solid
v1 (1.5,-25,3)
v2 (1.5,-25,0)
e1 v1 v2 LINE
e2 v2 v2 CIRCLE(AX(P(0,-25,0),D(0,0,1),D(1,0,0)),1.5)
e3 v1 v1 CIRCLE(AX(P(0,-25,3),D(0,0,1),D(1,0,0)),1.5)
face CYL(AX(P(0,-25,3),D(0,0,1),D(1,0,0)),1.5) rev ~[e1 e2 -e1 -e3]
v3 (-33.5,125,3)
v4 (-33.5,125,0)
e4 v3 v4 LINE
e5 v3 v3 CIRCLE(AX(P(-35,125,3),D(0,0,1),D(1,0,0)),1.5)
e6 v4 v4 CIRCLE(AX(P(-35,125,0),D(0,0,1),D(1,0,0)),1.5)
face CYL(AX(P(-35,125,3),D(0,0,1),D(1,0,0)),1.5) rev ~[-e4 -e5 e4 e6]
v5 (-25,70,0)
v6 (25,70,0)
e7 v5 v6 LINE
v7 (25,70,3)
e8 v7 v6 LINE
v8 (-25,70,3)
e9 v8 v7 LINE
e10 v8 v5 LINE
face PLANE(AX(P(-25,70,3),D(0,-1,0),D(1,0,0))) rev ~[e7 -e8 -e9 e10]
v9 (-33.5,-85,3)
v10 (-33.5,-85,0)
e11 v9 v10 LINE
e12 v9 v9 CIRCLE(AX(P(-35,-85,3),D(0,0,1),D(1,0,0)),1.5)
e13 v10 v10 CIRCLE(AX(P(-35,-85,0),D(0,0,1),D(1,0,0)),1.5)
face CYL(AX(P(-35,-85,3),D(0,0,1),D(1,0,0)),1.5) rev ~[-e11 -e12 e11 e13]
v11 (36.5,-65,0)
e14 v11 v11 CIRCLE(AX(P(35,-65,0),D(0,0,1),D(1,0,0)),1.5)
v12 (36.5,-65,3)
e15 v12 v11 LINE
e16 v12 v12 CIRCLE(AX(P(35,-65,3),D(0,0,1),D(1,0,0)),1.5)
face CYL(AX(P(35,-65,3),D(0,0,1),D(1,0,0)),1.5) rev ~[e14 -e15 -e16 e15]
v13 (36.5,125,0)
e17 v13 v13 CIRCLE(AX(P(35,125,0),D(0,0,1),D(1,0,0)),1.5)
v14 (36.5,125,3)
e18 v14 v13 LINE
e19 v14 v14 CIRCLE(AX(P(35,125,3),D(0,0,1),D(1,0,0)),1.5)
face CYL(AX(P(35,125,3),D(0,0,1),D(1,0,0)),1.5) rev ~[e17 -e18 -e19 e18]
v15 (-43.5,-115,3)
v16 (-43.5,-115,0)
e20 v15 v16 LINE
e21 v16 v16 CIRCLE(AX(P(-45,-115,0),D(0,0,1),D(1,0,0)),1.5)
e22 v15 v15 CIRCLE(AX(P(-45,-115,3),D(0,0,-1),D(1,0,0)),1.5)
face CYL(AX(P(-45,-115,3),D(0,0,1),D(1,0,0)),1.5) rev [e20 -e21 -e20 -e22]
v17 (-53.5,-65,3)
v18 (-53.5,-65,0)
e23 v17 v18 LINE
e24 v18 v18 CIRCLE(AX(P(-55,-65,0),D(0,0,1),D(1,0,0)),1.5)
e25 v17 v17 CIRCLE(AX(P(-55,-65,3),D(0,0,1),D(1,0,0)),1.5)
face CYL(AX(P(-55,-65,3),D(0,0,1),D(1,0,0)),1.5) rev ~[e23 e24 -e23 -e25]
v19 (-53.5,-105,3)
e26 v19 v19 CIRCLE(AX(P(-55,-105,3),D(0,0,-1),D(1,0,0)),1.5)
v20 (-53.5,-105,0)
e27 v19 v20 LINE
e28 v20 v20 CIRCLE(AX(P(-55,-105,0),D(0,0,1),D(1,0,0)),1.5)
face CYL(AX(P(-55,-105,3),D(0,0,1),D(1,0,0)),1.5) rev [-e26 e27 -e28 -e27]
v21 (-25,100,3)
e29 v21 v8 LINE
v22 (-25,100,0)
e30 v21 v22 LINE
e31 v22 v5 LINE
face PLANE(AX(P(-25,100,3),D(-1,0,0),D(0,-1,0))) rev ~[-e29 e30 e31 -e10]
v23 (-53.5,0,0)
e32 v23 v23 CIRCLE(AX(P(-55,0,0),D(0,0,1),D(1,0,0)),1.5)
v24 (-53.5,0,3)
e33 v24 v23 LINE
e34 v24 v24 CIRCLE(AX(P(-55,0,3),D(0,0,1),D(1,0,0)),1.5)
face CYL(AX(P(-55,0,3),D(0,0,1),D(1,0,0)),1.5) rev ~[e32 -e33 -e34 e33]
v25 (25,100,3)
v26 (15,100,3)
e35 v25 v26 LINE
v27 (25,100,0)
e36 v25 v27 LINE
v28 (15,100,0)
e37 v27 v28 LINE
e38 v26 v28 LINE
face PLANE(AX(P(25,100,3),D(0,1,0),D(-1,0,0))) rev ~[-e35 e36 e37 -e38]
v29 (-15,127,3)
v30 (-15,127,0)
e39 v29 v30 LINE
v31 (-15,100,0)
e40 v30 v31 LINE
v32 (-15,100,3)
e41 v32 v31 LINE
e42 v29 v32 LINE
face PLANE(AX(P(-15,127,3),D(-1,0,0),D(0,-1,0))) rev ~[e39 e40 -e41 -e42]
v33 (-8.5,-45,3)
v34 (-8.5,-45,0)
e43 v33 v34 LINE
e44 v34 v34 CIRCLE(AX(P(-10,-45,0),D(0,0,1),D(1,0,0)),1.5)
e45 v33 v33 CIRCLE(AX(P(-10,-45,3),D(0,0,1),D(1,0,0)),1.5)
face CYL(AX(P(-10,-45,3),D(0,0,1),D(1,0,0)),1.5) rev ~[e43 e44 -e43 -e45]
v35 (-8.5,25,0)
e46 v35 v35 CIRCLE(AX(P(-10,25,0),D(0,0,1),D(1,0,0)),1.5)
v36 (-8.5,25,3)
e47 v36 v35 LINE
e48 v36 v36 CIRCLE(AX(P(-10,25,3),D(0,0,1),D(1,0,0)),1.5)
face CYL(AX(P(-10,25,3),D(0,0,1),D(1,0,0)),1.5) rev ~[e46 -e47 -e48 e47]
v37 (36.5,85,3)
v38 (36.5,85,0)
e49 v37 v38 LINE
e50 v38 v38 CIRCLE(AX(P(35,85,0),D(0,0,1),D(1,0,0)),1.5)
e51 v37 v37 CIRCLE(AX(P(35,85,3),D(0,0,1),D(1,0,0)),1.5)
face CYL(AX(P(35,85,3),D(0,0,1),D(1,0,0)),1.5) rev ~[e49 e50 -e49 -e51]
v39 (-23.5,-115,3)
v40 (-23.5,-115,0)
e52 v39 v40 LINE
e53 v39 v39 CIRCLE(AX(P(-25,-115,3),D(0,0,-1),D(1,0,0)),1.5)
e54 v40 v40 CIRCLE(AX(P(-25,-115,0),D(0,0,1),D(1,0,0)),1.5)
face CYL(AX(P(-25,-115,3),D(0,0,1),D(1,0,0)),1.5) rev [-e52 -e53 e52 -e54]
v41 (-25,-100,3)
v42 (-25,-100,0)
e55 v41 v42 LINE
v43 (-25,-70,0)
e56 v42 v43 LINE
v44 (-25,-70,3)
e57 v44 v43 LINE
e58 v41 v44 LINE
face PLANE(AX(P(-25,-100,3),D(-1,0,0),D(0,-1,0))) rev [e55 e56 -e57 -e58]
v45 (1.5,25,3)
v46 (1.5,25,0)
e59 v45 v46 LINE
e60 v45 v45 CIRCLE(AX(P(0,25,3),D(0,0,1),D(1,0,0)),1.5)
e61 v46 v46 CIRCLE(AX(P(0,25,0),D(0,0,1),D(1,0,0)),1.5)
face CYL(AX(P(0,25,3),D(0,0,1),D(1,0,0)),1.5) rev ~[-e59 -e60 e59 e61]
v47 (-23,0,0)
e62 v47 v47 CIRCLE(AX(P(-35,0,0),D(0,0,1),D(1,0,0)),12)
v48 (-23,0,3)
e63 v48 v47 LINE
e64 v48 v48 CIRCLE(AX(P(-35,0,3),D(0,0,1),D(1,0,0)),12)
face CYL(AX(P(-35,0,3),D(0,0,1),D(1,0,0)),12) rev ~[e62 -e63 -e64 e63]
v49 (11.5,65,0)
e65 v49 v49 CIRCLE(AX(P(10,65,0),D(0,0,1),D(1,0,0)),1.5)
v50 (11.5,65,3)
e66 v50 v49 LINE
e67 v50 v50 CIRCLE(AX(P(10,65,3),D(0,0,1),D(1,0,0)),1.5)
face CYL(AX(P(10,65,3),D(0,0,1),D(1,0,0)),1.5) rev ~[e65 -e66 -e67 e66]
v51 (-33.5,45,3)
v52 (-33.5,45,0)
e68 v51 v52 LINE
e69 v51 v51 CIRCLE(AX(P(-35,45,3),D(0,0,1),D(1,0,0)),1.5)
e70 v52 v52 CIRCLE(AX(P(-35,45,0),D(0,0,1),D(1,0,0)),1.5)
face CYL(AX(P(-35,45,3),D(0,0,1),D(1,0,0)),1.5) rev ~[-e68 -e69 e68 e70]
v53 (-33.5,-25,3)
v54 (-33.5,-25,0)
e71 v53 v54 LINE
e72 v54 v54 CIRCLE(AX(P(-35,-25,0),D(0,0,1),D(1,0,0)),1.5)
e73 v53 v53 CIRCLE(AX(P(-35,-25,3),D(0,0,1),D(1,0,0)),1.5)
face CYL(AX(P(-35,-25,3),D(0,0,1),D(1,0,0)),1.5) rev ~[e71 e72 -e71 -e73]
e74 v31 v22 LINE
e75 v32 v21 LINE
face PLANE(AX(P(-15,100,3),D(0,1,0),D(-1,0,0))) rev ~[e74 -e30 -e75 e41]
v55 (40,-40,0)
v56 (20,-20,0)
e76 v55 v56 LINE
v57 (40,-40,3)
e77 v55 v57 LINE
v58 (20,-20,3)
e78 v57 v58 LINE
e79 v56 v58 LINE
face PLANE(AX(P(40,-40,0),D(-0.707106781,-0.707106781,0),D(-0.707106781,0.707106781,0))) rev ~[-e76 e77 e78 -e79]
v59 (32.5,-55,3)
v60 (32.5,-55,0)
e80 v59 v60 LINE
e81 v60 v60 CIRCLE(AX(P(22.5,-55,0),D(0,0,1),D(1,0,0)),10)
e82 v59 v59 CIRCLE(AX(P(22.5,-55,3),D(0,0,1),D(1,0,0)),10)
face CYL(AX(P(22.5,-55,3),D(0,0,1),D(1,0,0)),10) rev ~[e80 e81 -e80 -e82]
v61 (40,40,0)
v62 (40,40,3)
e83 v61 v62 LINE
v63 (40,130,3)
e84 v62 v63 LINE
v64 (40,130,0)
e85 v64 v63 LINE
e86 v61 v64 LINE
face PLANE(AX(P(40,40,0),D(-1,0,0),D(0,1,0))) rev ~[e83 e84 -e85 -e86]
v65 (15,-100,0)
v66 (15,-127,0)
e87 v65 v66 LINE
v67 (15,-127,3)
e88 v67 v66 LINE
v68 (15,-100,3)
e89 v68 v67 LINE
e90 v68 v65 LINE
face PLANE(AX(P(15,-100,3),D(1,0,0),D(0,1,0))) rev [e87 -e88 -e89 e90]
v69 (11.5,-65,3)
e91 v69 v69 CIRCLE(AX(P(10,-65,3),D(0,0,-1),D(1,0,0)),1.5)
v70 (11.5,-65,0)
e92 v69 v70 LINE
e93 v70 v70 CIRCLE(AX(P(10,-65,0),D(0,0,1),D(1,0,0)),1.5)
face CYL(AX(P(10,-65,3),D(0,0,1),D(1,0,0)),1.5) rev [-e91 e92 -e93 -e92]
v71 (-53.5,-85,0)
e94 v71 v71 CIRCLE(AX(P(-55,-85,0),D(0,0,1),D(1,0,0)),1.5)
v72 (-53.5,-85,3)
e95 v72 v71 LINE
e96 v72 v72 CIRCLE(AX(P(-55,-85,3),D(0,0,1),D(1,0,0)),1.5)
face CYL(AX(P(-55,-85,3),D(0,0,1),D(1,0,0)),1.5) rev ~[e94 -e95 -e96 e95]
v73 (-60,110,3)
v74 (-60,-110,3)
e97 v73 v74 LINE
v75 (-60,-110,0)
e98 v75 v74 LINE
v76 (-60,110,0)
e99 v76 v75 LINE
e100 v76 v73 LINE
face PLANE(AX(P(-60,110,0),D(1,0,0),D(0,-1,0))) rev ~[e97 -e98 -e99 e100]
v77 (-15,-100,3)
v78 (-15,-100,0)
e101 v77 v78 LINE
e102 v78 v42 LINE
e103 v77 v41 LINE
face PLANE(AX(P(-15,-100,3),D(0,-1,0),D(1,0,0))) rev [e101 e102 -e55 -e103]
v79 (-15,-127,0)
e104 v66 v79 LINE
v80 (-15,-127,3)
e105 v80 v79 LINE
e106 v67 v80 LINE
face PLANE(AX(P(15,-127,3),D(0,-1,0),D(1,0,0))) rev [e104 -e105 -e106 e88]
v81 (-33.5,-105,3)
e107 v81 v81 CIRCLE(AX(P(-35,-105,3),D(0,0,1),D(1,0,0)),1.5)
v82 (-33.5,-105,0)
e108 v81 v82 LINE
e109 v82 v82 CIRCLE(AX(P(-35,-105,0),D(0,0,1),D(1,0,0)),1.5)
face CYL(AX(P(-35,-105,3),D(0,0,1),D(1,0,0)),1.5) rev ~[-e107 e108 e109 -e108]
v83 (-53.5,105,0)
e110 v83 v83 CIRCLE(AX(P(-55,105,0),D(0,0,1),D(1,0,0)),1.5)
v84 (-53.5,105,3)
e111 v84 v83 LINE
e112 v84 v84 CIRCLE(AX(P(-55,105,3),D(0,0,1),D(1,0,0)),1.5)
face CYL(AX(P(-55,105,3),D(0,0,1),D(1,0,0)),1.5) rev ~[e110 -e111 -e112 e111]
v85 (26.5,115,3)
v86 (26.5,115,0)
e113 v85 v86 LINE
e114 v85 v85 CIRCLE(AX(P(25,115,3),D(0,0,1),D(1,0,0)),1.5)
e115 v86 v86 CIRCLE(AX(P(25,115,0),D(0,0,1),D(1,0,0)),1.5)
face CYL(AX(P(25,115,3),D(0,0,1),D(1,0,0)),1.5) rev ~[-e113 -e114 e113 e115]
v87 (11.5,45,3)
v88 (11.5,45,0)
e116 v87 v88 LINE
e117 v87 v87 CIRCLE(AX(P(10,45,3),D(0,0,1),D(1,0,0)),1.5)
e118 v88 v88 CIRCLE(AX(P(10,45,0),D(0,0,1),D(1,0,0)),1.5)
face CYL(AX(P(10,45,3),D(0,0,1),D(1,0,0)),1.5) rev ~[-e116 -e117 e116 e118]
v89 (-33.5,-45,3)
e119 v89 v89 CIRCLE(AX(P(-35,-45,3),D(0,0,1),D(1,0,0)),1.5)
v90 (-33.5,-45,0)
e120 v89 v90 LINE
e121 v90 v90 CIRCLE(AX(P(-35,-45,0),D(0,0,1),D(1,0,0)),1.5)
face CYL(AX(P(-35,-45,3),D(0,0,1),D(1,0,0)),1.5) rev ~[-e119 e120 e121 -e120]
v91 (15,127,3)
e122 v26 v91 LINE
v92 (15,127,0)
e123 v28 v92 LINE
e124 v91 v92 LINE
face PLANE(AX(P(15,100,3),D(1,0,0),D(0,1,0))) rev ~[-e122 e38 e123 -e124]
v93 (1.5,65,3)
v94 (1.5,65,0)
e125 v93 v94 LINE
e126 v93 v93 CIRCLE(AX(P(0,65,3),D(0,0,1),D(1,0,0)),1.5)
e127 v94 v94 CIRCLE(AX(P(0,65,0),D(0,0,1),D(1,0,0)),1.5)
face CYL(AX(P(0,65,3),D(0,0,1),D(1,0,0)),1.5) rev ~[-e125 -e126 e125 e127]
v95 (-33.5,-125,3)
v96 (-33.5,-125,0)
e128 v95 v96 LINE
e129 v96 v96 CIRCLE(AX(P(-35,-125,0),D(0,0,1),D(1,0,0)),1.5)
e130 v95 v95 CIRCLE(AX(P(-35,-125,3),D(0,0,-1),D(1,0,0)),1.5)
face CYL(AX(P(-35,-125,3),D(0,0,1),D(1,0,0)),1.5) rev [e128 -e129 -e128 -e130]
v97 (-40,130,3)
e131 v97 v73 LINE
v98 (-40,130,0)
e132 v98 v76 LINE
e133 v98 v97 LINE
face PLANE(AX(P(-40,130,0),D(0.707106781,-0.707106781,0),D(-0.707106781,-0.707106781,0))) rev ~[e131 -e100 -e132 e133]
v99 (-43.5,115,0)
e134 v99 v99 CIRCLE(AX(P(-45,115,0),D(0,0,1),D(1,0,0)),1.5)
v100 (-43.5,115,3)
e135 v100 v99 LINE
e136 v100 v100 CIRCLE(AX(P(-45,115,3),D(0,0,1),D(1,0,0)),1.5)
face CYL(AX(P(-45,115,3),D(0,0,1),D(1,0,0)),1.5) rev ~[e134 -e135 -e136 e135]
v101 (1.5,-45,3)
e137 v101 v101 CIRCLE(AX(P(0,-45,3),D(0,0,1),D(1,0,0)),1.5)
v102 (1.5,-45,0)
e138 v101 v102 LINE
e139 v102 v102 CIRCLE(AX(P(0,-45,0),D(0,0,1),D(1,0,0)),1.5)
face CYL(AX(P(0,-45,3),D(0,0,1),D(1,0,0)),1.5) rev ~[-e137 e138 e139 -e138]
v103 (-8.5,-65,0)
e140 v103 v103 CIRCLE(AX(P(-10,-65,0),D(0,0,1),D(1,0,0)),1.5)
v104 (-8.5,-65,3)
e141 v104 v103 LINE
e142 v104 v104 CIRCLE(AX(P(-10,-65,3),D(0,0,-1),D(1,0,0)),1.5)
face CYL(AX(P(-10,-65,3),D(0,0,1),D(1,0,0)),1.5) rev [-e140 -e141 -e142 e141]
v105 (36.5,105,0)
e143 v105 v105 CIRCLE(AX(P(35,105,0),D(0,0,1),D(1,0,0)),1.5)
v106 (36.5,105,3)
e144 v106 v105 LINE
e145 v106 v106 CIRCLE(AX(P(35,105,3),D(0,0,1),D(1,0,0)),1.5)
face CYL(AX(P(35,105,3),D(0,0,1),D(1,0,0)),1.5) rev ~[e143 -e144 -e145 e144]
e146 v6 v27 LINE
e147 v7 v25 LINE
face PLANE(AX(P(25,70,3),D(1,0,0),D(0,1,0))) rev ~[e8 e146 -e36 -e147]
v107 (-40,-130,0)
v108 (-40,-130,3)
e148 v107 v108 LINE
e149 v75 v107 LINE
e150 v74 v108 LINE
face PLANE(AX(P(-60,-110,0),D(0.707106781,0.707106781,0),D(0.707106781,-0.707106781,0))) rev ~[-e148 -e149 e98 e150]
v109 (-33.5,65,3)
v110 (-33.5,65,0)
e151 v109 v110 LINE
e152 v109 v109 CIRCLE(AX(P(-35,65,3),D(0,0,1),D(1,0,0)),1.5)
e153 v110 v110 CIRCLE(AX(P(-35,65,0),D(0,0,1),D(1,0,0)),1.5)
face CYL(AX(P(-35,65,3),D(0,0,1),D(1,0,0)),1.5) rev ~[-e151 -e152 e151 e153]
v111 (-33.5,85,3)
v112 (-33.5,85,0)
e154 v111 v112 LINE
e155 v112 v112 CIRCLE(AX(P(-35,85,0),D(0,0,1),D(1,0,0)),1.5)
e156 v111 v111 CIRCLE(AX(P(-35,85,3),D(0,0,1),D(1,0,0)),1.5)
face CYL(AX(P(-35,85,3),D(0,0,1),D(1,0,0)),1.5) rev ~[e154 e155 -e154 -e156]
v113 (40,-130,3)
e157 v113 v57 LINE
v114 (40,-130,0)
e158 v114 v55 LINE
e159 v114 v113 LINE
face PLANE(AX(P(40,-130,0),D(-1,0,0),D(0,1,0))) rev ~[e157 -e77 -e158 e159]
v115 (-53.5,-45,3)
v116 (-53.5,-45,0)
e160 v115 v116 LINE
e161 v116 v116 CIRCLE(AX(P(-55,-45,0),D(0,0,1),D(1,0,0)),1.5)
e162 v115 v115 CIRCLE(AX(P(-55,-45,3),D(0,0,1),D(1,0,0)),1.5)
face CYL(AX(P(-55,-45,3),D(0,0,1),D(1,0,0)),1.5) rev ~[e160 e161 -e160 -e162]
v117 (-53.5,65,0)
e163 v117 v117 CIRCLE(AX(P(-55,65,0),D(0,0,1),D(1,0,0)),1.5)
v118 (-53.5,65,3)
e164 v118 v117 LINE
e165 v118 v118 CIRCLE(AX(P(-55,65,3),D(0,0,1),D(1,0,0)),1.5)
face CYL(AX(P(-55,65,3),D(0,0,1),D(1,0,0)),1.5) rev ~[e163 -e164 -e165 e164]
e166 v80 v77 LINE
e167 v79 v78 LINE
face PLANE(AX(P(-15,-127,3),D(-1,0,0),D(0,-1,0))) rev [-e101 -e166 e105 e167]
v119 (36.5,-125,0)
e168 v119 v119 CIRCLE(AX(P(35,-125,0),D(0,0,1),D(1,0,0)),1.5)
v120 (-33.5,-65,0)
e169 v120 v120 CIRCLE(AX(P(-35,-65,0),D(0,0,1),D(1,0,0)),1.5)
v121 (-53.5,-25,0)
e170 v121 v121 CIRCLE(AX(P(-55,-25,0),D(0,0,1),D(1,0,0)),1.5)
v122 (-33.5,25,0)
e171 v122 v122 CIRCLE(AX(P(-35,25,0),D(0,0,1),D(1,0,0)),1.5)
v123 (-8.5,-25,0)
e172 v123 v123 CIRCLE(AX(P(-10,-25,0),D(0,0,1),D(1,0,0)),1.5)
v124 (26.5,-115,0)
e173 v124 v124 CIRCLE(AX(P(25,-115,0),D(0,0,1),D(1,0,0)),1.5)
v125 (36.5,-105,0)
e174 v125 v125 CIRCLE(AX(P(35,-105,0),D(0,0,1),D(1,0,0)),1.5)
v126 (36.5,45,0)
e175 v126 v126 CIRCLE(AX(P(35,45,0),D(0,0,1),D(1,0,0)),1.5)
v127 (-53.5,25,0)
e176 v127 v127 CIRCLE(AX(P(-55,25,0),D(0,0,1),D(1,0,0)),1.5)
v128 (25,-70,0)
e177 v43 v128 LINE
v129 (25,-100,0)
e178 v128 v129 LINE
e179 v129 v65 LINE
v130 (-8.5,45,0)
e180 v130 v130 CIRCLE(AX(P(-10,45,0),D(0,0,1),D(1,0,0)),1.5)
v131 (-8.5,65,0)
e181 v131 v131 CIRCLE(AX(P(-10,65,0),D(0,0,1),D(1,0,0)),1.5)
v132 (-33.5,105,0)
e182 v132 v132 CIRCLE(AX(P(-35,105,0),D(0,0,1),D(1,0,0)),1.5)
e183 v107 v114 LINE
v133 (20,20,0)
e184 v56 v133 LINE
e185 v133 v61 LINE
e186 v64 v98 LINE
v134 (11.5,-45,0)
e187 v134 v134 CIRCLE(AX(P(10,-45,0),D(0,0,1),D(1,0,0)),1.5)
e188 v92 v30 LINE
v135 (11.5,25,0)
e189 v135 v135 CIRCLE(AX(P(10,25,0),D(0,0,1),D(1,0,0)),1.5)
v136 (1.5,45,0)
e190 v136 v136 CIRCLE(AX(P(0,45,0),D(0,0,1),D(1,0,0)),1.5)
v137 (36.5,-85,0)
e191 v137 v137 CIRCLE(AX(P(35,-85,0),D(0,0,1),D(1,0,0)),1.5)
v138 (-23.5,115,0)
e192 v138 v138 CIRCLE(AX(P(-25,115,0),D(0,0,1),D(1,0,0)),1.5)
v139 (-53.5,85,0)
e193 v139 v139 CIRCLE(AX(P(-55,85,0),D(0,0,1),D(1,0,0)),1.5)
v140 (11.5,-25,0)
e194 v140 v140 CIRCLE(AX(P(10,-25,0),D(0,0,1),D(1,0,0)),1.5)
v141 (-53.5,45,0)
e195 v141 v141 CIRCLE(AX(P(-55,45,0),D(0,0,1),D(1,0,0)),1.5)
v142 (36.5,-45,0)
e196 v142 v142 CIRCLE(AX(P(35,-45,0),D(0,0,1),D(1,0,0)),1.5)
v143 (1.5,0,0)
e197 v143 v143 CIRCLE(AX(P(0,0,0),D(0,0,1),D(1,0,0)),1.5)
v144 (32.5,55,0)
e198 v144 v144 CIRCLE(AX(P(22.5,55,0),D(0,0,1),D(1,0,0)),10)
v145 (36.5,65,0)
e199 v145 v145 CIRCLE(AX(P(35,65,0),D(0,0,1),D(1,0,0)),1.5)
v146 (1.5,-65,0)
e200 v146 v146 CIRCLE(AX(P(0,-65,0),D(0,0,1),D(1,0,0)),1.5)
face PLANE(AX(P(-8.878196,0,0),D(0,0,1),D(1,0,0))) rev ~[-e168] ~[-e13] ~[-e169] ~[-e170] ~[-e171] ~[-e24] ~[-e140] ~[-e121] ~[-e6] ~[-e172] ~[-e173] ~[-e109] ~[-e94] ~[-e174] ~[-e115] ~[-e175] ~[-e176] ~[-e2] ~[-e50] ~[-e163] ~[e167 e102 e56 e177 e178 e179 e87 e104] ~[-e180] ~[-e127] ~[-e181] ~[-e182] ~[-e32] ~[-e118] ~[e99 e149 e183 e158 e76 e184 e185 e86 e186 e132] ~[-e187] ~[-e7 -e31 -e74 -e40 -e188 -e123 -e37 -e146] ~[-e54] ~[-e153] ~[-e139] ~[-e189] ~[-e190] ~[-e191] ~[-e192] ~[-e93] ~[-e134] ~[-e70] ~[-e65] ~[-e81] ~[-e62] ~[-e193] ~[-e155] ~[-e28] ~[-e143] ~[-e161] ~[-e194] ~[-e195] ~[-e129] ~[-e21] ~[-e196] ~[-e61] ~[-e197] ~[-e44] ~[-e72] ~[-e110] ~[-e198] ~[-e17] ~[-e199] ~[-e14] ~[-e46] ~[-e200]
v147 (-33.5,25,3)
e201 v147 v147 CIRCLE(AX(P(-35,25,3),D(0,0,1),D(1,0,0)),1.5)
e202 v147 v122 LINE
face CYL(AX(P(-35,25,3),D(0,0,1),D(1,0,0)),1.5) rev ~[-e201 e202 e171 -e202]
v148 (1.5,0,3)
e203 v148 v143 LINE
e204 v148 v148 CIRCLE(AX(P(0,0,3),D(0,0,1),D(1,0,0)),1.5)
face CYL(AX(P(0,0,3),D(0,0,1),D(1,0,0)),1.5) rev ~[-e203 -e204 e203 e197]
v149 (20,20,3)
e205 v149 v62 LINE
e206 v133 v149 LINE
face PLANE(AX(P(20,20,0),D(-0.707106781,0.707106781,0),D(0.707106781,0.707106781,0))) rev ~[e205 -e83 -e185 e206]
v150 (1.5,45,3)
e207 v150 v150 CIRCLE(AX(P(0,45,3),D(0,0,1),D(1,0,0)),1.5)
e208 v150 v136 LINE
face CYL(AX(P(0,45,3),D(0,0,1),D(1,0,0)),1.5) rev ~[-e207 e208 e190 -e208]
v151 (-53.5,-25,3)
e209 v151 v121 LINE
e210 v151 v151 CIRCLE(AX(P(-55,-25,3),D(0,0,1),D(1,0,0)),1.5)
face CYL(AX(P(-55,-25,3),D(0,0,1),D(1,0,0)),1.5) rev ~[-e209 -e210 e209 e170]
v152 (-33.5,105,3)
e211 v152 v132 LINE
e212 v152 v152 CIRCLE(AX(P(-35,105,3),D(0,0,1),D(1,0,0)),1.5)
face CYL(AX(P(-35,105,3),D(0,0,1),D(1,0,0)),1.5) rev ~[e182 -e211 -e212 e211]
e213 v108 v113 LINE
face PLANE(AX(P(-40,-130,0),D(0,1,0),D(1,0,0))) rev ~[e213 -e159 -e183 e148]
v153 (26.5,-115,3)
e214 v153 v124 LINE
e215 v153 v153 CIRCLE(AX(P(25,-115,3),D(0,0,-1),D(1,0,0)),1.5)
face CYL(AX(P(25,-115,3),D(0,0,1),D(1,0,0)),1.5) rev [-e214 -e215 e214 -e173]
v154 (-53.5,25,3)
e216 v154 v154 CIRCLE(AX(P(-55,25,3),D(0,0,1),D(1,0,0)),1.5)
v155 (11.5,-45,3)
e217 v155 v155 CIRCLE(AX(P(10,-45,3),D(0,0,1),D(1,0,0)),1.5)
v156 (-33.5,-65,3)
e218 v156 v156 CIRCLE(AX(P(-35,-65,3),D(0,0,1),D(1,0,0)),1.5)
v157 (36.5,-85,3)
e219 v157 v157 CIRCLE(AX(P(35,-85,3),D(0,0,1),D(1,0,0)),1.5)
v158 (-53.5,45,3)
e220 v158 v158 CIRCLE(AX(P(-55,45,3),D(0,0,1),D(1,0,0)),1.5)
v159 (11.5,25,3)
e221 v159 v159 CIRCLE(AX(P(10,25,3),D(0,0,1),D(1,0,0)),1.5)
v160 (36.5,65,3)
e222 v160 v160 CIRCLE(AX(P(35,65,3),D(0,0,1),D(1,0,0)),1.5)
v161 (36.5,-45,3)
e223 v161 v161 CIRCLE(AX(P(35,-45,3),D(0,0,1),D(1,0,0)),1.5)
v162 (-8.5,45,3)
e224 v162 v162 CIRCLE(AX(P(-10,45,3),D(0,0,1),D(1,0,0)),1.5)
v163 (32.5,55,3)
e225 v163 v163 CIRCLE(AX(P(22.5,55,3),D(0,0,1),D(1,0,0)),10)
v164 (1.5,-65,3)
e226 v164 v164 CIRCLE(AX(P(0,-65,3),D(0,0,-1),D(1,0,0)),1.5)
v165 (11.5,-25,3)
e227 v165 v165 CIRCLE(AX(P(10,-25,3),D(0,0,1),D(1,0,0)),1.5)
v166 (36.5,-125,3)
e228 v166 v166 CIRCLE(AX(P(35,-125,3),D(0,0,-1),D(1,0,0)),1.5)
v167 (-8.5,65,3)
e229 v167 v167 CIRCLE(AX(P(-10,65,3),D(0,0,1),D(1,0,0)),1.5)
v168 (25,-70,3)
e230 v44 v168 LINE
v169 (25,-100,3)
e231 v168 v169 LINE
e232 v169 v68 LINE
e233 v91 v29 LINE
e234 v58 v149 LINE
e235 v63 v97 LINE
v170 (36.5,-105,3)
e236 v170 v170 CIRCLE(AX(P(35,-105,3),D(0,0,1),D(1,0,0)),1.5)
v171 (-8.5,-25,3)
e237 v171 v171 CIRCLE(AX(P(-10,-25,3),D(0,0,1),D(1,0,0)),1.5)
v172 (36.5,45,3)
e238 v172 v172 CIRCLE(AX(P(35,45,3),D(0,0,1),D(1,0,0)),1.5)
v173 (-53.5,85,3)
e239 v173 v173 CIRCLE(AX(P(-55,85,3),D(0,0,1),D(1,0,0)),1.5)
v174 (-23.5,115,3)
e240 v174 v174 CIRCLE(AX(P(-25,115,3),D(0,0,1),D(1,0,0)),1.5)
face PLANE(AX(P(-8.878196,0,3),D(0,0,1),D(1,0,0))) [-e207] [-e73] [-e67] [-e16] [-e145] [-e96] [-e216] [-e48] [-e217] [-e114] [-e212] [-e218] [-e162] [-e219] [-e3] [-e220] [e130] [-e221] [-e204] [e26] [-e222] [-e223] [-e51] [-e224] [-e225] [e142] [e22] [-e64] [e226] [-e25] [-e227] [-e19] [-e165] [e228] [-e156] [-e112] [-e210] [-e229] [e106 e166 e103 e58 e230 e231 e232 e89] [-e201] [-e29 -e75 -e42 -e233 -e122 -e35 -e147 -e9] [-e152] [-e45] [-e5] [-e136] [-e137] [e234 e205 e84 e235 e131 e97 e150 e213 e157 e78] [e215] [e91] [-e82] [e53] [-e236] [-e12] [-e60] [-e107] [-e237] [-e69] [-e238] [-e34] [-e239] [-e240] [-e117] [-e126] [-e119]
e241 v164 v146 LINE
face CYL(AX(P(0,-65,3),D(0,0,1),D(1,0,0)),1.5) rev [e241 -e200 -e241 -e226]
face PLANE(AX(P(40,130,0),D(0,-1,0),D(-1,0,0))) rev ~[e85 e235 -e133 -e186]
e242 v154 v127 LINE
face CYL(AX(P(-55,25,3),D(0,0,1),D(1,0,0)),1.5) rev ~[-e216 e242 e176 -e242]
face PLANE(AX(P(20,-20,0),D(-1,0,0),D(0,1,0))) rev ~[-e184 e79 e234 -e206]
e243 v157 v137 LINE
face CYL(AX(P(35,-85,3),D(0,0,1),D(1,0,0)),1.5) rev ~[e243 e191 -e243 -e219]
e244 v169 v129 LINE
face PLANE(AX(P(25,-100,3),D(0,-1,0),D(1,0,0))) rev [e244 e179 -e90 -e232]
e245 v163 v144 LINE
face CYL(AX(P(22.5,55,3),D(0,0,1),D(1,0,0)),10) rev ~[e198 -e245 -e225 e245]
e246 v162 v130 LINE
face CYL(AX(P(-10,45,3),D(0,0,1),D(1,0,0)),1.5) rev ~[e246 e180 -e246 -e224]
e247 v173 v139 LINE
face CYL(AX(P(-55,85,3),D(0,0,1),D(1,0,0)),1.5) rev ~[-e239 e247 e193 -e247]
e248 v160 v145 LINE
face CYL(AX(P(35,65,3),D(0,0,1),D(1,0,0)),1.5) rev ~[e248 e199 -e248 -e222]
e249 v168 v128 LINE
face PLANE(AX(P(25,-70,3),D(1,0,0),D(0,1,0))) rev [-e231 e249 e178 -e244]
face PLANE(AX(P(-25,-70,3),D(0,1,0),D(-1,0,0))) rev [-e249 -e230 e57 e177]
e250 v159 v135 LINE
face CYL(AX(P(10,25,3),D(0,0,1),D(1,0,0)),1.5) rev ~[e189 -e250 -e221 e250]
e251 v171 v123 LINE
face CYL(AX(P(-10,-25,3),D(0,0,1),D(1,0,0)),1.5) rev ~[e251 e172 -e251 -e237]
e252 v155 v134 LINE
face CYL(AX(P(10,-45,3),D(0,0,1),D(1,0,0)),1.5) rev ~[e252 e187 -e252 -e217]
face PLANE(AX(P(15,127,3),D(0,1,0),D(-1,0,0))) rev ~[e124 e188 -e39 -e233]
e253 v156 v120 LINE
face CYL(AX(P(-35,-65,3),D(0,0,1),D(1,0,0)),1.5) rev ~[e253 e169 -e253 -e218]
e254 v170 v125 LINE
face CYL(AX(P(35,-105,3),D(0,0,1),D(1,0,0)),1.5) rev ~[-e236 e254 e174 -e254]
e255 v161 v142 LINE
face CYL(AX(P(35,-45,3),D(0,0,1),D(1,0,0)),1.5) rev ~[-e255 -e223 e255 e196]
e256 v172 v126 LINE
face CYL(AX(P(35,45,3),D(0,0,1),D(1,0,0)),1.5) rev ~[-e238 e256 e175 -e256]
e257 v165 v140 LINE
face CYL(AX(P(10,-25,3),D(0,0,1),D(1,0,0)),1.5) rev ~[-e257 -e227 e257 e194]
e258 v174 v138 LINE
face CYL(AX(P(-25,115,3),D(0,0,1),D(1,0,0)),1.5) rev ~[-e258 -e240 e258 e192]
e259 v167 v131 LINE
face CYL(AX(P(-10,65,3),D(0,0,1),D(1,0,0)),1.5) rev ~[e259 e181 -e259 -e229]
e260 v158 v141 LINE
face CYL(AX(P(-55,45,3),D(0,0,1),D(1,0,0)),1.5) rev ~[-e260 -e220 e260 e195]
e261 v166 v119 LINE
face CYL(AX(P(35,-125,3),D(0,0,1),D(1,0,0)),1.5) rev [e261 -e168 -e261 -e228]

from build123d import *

# Parameters (mm, degrees)
MAIN_DEPTH                    = 3
MOTORCODERLEFTHOLE_DEPTH      = 144.209636547
SKETCH4_R                     = 1.5
BOTTOMLEFTHOLE_DEPTH          = 144.209636547
BOTTOMLEFTHOLELPATTERN_COUNT  = 5
BOTTOMLEFTHOLELPATTERN_PITCH  = 20
SKETCH5_R                     = 1.5
BOTTOMLEFTHOLE2_DEPTH         = 144.209636547
BOTTOMLEFTHOLE2LPATTERN_COUNT = 6
BOTTOMLEFTHOLE2LPATTERN_PITCH = 20
SKETCH6_R                     = 1.5
TOPLEFTHOLE_DEPTH             = 144.209636547
TOPLEFTHOLELPATTERN_COUNT     = 5
TOPLEFTHOLELPATTERN_PITCH     = 20
SKETCH7_R                     = 1.5
MOTORFIXHOLES_DEPTH           = 144.209636547
MOTORFIXHOLELPATTERN_COUNT    = 3
MOTORFIXHOLELPATTERN_PITCH    = 20
SKETCH8_R                     = 1.5
CODERHOLE_DEPTH               = 144.209636547
MIRROR1_COPY_1_SKETCH_R       = 1.5
MIRROR1_COPY_1_DEPTH          = 144.209636547
MIRROR1_COPY_2_SKETCH_R       = 1.5
MIRROR1_COPY_2_DEPTH          = 144.209636547
MIRROR1_COPY_3_SKETCH_R       = 1.5
MIRROR1_COPY_3_DEPTH          = 144.209636547
MIRROR1_COPY_4_SKETCH_R       = 1.5
MIRROR1_COPY_4_DEPTH          = 144.209636547
MIRROR1_COPY_5_SKETCH_R       = 1.5
MIRROR1_COPY_5_DEPTH          = 144.209636547
MIRROR1_COPY_6_SKETCH_R       = 1.5
MIRROR1_COPY_6_DEPTH          = 144.209636547
MIRROR1_COPY_7_SKETCH_R       = 1.5
MIRROR1_COPY_7_DEPTH          = 144.209636547
MIRROR1_COPY_8_SKETCH_R       = 1.5
MIRROR1_COPY_8_DEPTH          = 144.209636547
MIRROR1_COPY_9_SKETCH_R       = 1.5
MIRROR1_COPY_9_DEPTH          = 144.209636547
MIRROR1_COPY_10_SKETCH_R      = 1.5
MIRROR1_COPY_10_DEPTH         = 144.209636547
MIRROR1_COPY_11_SKETCH_R      = 1.5
MIRROR1_COPY_11_DEPTH         = 144.209636547
MIRROR1_COPY_12_SKETCH_R      = 1.5
MIRROR1_COPY_12_DEPTH         = 144.209636547
MIRROR1_COPY_13_SKETCH_R      = 1.5
MIRROR1_COPY_13_DEPTH         = 144.209636547
MIRROR1_COPY_14_SKETCH_R      = 1.5
MIRROR1_COPY_14_DEPTH         = 144.209636547
MIRROR1_COPY_15_SKETCH_R      = 1.5
MIRROR1_COPY_15_DEPTH         = 144.209636547
MIRROR1_COPY_16_SKETCH_R      = 1.5
MIRROR1_COPY_16_DEPTH         = 144.209636547
MIRROR1_COPY_17_SKETCH_R      = 1.5
MIRROR1_COPY_17_DEPTH         = 144.209636547
MIRROR1_COPY_18_SKETCH_R      = 1.5
MIRROR1_COPY_18_DEPTH         = 144.209636547
MIRROR1_COPY_19_SKETCH_R      = 1.5
MIRROR1_COPY_19_DEPTH         = 144.209636547
SKETCH3_R                     = 12
SKETCH3_R_2                   = 10
SKETCH3_R_3                   = 1.5
BIGHOLES_DEPTH                = 144.209636547


with BuildPart() as part:
    # Sketch1 → Main (new body)
    with BuildSketch(Plane.XY):
        Polygon((-60, 110), (-60, -110), (-40, -130), (40, -130), (40, -40), (20, -20), (20, 20), (40, 40), (40, 130), (-40, 130), align=None)
    extrude(amount=MAIN_DEPTH)

    # Sketch2 → MotorCoderLeftHole (cut, through all)
    with BuildSketch(Plane.XY.offset(3)):
        Polygon((-25, 100), (-25, 70), (25, 70), (25, 100), (15, 100), (15, 127), (-15, 127), (-15, 100), align=None)
    motorcoderlefthole = extrude(amount=-MOTORCODERLEFTHOLE_DEPTH, mode=Mode.SUBTRACT)

    # Sketch4 → BottomLeftHole (cut, through all)
    with BuildSketch(Plane.XY.offset(3)):
        with Locations((-55, 105)):
            Circle(SKETCH4_R)
    bottomlefthole = extrude(amount=-BOTTOMLEFTHOLE_DEPTH, mode=Mode.SUBTRACT)

    # BottomLeftHoleLPattern: BottomLeftHole ×5
    with Locations(*[(0, -i * BOTTOMLEFTHOLELPATTERN_PITCH, 0) for i in range(1, BOTTOMLEFTHOLELPATTERN_COUNT)]):
        add(bottomlefthole, mode=Mode.SUBTRACT)

    # Sketch5 → BottomLeftHole2 (cut, through all)
    with BuildSketch(Plane.XY.offset(3)):
        with Locations((-35, 125)):
            Circle(SKETCH5_R)
    bottomlefthole2 = extrude(amount=-BOTTOMLEFTHOLE2_DEPTH, mode=Mode.SUBTRACT)

    # BottomLeftHole2LPattern: BottomLeftHole2 ×6
    with Locations(*[(0, -i * BOTTOMLEFTHOLE2LPATTERN_PITCH, 0) for i in range(1, BOTTOMLEFTHOLE2LPATTERN_COUNT)]):
        add(bottomlefthole2, mode=Mode.SUBTRACT)

    # Sketch6 → TopLeftHole (cut, through all)
    with BuildSketch(Plane.XY.offset(3)):
        with Locations((35, 125)):
            Circle(SKETCH6_R)
    toplefthole = extrude(amount=-TOPLEFTHOLE_DEPTH, mode=Mode.SUBTRACT)

    # TopLeftHoleLPattern: TopLeftHole ×5
    with Locations(*[(0, -i * TOPLEFTHOLELPATTERN_PITCH, 0) for i in range(1, TOPLEFTHOLELPATTERN_COUNT)]):
        add(toplefthole, mode=Mode.SUBTRACT)

    # Sketch7 → MotorFixHoles (cut, through all)
    with BuildSketch(Plane.XY.offset(3)):
        with Locations((0, 65)):
            Circle(SKETCH7_R)
        with Locations((-10, 65)):
            Circle(SKETCH7_R)
        with Locations((10, 65)):
            Circle(SKETCH7_R)
    motorfixholes = extrude(amount=-MOTORFIXHOLES_DEPTH, mode=Mode.SUBTRACT)

    # MotorFixHoleLPattern: MotorFixHoles ×3
    with Locations(*[(0, -i * MOTORFIXHOLELPATTERN_PITCH, 0) for i in range(1, MOTORFIXHOLELPATTERN_COUNT)]):
        add(motorfixholes, mode=Mode.SUBTRACT)

    # Sketch8 → CoderHole (cut, through all)
    with BuildSketch(Plane.XY.offset(3)):
        with Locations((-45, 115)):
            Circle(SKETCH8_R)
        with Locations((-25, 115)):
            Circle(SKETCH8_R)
        with Locations((25, 115)):
            Circle(SKETCH8_R)
    coderhole = extrude(amount=-CODERHOLE_DEPTH, mode=Mode.SUBTRACT)

    # Mirror1: MotorCoderLeftHole, CoderHole across plane
    add(motorcoderlefthole.mirror(Plane.ZX), mode=Mode.SUBTRACT)
    add(coderhole.mirror(Plane.ZX), mode=Mode.SUBTRACT)

    # Mirror1 copy 1 sketch → Mirror1 copy 1 (cut, through all)
    with BuildSketch(Plane(origin=(0, 20, 3), x_dir=(1, 0, 0), z_dir=(0, 0, 1))):
        with Locations((-55, -105)):
            Circle(MIRROR1_COPY_1_SKETCH_R)
    extrude(amount=-MIRROR1_COPY_1_DEPTH, mode=Mode.SUBTRACT)

    # Mirror1 copy 2 sketch → Mirror1 copy 2 (cut, through all)
    with BuildSketch(Plane(origin=(0, 40, 3), x_dir=(1, 0, 0), z_dir=(0, 0, 1))):
        with Locations((-55, -105)):
            Circle(MIRROR1_COPY_2_SKETCH_R)
    extrude(amount=-MIRROR1_COPY_2_DEPTH, mode=Mode.SUBTRACT)

    # Mirror1 copy 3 sketch → Mirror1 copy 3 (cut, through all)
    with BuildSketch(Plane(origin=(0, 60, 3), x_dir=(1, 0, 0), z_dir=(0, 0, 1))):
        with Locations((-55, -105)):
            Circle(MIRROR1_COPY_3_SKETCH_R)
    extrude(amount=-MIRROR1_COPY_3_DEPTH, mode=Mode.SUBTRACT)

    # Mirror1 copy 4 sketch → Mirror1 copy 4 (cut, through all)
    with BuildSketch(Plane(origin=(0, 80, 3), x_dir=(1, 0, 0), z_dir=(0, 0, 1))):
        with Locations((-55, -105)):
            Circle(MIRROR1_COPY_4_SKETCH_R)
    extrude(amount=-MIRROR1_COPY_4_DEPTH, mode=Mode.SUBTRACT)

    # Mirror1 copy 5 sketch → Mirror1 copy 5 (cut, through all)
    with BuildSketch(Plane.XY.offset(3)):
        with Locations((-55, -105)):
            Circle(MIRROR1_COPY_5_SKETCH_R)
    extrude(amount=-MIRROR1_COPY_5_DEPTH, mode=Mode.SUBTRACT)

    # Mirror1 copy 6 sketch → Mirror1 copy 6 (cut, through all)
    with BuildSketch(Plane(origin=(0, 20, 3), x_dir=(1, 0, 0), z_dir=(0, 0, 1))):
        with Locations((-35, -125)):
            Circle(MIRROR1_COPY_6_SKETCH_R)
    extrude(amount=-MIRROR1_COPY_6_DEPTH, mode=Mode.SUBTRACT)

    # Mirror1 copy 7 sketch → Mirror1 copy 7 (cut, through all)
    with BuildSketch(Plane(origin=(0, 40, 3), x_dir=(1, 0, 0), z_dir=(0, 0, 1))):
        with Locations((-35, -125)):
            Circle(MIRROR1_COPY_7_SKETCH_R)
    extrude(amount=-MIRROR1_COPY_7_DEPTH, mode=Mode.SUBTRACT)

    # Mirror1 copy 8 sketch → Mirror1 copy 8 (cut, through all)
    with BuildSketch(Plane(origin=(0, 60, 3), x_dir=(1, 0, 0), z_dir=(0, 0, 1))):
        with Locations((-35, -125)):
            Circle(MIRROR1_COPY_8_SKETCH_R)
    extrude(amount=-MIRROR1_COPY_8_DEPTH, mode=Mode.SUBTRACT)

    # Mirror1 copy 9 sketch → Mirror1 copy 9 (cut, through all)
    with BuildSketch(Plane(origin=(0, 80, 3), x_dir=(1, 0, 0), z_dir=(0, 0, 1))):
        with Locations((-35, -125)):
            Circle(MIRROR1_COPY_9_SKETCH_R)
    extrude(amount=-MIRROR1_COPY_9_DEPTH, mode=Mode.SUBTRACT)

    # Mirror1 copy 10 sketch → Mirror1 copy 10 (cut, through all)
    with BuildSketch(Plane(origin=(0, 100, 3), x_dir=(1, 0, 0), z_dir=(0, 0, 1))):
        with Locations((-35, -125)):
            Circle(MIRROR1_COPY_10_SKETCH_R)
    extrude(amount=-MIRROR1_COPY_10_DEPTH, mode=Mode.SUBTRACT)

    # Mirror1 copy 11 sketch → Mirror1 copy 11 (cut, through all)
    with BuildSketch(Plane.XY.offset(3)):
        with Locations((-35, -125)):
            Circle(MIRROR1_COPY_11_SKETCH_R)
    extrude(amount=-MIRROR1_COPY_11_DEPTH, mode=Mode.SUBTRACT)

    # Mirror1 copy 12 sketch → Mirror1 copy 12 (cut, through all)
    with BuildSketch(Plane(origin=(0, 20, 3), x_dir=(1, 0, 0), z_dir=(0, 0, 1))):
        with Locations((35, -125)):
            Circle(MIRROR1_COPY_12_SKETCH_R)
    extrude(amount=-MIRROR1_COPY_12_DEPTH, mode=Mode.SUBTRACT)

    # Mirror1 copy 13 sketch → Mirror1 copy 13 (cut, through all)
    with BuildSketch(Plane(origin=(0, 40, 3), x_dir=(1, 0, 0), z_dir=(0, 0, 1))):
        with Locations((35, -125)):
            Circle(MIRROR1_COPY_13_SKETCH_R)
    extrude(amount=-MIRROR1_COPY_13_DEPTH, mode=Mode.SUBTRACT)

    # Mirror1 copy 14 sketch → Mirror1 copy 14 (cut, through all)
    with BuildSketch(Plane(origin=(0, 60, 3), x_dir=(1, 0, 0), z_dir=(0, 0, 1))):
        with Locations((35, -125)):
            Circle(MIRROR1_COPY_14_SKETCH_R)
    extrude(amount=-MIRROR1_COPY_14_DEPTH, mode=Mode.SUBTRACT)

    # Mirror1 copy 15 sketch → Mirror1 copy 15 (cut, through all)
    with BuildSketch(Plane(origin=(0, 80, 3), x_dir=(1, 0, 0), z_dir=(0, 0, 1))):
        with Locations((35, -125)):
            Circle(MIRROR1_COPY_15_SKETCH_R)
    extrude(amount=-MIRROR1_COPY_15_DEPTH, mode=Mode.SUBTRACT)

    # Mirror1 copy 16 sketch → Mirror1 copy 16 (cut, through all)
    with BuildSketch(Plane.XY.offset(3)):
        with Locations((35, -125)):
            Circle(MIRROR1_COPY_16_SKETCH_R)
    extrude(amount=-MIRROR1_COPY_16_DEPTH, mode=Mode.SUBTRACT)

    # Mirror1 copy 17 sketch → Mirror1 copy 17 (cut, through all)
    with BuildSketch(Plane(origin=(0, 20, 3), x_dir=(1, 0, 0), z_dir=(0, 0, 1))):
        with Locations((0, -65)):
            Circle(MIRROR1_COPY_17_SKETCH_R)
        with Locations((-10, -65)):
            Circle(MIRROR1_COPY_17_SKETCH_R)
        with Locations((10, -65)):
            Circle(MIRROR1_COPY_17_SKETCH_R)
    extrude(amount=-MIRROR1_COPY_17_DEPTH, mode=Mode.SUBTRACT)

    # Mirror1 copy 18 sketch → Mirror1 copy 18 (cut, through all)
    with BuildSketch(Plane(origin=(0, 40, 3), x_dir=(1, 0, 0), z_dir=(0, 0, 1))):
        with Locations((0, -65)):
            Circle(MIRROR1_COPY_18_SKETCH_R)
        with Locations((-10, -65)):
            Circle(MIRROR1_COPY_18_SKETCH_R)
        with Locations((10, -65)):
            Circle(MIRROR1_COPY_18_SKETCH_R)
    extrude(amount=-MIRROR1_COPY_18_DEPTH, mode=Mode.SUBTRACT)

    # Mirror1 copy 19 sketch → Mirror1 copy 19 (cut, through all)
    with BuildSketch(Plane.XY.offset(3)):
        with Locations((0, -65)):
            Circle(MIRROR1_COPY_19_SKETCH_R)
        with Locations((-10, -65)):
            Circle(MIRROR1_COPY_19_SKETCH_R)
        with Locations((10, -65)):
            Circle(MIRROR1_COPY_19_SKETCH_R)
    extrude(amount=-MIRROR1_COPY_19_DEPTH, mode=Mode.SUBTRACT)

    # Sketch3 → BigHoles (cut, through all)
    with BuildSketch(Plane.XY.offset(3)):
        with Locations((-35, 0)):
            Circle(SKETCH3_R)
        with Locations((22.5, 55)):
            Circle(SKETCH3_R_2)
        with Locations((22.5, -55)):
            Circle(SKETCH3_R_2)
        Circle(SKETCH3_R_3)
        with Locations((-55, 0)):
            Circle(SKETCH3_R_3)
    extrude(amount=-BIGHOLES_DEPTH, mode=Mode.SUBTRACT)


solid = part.part
